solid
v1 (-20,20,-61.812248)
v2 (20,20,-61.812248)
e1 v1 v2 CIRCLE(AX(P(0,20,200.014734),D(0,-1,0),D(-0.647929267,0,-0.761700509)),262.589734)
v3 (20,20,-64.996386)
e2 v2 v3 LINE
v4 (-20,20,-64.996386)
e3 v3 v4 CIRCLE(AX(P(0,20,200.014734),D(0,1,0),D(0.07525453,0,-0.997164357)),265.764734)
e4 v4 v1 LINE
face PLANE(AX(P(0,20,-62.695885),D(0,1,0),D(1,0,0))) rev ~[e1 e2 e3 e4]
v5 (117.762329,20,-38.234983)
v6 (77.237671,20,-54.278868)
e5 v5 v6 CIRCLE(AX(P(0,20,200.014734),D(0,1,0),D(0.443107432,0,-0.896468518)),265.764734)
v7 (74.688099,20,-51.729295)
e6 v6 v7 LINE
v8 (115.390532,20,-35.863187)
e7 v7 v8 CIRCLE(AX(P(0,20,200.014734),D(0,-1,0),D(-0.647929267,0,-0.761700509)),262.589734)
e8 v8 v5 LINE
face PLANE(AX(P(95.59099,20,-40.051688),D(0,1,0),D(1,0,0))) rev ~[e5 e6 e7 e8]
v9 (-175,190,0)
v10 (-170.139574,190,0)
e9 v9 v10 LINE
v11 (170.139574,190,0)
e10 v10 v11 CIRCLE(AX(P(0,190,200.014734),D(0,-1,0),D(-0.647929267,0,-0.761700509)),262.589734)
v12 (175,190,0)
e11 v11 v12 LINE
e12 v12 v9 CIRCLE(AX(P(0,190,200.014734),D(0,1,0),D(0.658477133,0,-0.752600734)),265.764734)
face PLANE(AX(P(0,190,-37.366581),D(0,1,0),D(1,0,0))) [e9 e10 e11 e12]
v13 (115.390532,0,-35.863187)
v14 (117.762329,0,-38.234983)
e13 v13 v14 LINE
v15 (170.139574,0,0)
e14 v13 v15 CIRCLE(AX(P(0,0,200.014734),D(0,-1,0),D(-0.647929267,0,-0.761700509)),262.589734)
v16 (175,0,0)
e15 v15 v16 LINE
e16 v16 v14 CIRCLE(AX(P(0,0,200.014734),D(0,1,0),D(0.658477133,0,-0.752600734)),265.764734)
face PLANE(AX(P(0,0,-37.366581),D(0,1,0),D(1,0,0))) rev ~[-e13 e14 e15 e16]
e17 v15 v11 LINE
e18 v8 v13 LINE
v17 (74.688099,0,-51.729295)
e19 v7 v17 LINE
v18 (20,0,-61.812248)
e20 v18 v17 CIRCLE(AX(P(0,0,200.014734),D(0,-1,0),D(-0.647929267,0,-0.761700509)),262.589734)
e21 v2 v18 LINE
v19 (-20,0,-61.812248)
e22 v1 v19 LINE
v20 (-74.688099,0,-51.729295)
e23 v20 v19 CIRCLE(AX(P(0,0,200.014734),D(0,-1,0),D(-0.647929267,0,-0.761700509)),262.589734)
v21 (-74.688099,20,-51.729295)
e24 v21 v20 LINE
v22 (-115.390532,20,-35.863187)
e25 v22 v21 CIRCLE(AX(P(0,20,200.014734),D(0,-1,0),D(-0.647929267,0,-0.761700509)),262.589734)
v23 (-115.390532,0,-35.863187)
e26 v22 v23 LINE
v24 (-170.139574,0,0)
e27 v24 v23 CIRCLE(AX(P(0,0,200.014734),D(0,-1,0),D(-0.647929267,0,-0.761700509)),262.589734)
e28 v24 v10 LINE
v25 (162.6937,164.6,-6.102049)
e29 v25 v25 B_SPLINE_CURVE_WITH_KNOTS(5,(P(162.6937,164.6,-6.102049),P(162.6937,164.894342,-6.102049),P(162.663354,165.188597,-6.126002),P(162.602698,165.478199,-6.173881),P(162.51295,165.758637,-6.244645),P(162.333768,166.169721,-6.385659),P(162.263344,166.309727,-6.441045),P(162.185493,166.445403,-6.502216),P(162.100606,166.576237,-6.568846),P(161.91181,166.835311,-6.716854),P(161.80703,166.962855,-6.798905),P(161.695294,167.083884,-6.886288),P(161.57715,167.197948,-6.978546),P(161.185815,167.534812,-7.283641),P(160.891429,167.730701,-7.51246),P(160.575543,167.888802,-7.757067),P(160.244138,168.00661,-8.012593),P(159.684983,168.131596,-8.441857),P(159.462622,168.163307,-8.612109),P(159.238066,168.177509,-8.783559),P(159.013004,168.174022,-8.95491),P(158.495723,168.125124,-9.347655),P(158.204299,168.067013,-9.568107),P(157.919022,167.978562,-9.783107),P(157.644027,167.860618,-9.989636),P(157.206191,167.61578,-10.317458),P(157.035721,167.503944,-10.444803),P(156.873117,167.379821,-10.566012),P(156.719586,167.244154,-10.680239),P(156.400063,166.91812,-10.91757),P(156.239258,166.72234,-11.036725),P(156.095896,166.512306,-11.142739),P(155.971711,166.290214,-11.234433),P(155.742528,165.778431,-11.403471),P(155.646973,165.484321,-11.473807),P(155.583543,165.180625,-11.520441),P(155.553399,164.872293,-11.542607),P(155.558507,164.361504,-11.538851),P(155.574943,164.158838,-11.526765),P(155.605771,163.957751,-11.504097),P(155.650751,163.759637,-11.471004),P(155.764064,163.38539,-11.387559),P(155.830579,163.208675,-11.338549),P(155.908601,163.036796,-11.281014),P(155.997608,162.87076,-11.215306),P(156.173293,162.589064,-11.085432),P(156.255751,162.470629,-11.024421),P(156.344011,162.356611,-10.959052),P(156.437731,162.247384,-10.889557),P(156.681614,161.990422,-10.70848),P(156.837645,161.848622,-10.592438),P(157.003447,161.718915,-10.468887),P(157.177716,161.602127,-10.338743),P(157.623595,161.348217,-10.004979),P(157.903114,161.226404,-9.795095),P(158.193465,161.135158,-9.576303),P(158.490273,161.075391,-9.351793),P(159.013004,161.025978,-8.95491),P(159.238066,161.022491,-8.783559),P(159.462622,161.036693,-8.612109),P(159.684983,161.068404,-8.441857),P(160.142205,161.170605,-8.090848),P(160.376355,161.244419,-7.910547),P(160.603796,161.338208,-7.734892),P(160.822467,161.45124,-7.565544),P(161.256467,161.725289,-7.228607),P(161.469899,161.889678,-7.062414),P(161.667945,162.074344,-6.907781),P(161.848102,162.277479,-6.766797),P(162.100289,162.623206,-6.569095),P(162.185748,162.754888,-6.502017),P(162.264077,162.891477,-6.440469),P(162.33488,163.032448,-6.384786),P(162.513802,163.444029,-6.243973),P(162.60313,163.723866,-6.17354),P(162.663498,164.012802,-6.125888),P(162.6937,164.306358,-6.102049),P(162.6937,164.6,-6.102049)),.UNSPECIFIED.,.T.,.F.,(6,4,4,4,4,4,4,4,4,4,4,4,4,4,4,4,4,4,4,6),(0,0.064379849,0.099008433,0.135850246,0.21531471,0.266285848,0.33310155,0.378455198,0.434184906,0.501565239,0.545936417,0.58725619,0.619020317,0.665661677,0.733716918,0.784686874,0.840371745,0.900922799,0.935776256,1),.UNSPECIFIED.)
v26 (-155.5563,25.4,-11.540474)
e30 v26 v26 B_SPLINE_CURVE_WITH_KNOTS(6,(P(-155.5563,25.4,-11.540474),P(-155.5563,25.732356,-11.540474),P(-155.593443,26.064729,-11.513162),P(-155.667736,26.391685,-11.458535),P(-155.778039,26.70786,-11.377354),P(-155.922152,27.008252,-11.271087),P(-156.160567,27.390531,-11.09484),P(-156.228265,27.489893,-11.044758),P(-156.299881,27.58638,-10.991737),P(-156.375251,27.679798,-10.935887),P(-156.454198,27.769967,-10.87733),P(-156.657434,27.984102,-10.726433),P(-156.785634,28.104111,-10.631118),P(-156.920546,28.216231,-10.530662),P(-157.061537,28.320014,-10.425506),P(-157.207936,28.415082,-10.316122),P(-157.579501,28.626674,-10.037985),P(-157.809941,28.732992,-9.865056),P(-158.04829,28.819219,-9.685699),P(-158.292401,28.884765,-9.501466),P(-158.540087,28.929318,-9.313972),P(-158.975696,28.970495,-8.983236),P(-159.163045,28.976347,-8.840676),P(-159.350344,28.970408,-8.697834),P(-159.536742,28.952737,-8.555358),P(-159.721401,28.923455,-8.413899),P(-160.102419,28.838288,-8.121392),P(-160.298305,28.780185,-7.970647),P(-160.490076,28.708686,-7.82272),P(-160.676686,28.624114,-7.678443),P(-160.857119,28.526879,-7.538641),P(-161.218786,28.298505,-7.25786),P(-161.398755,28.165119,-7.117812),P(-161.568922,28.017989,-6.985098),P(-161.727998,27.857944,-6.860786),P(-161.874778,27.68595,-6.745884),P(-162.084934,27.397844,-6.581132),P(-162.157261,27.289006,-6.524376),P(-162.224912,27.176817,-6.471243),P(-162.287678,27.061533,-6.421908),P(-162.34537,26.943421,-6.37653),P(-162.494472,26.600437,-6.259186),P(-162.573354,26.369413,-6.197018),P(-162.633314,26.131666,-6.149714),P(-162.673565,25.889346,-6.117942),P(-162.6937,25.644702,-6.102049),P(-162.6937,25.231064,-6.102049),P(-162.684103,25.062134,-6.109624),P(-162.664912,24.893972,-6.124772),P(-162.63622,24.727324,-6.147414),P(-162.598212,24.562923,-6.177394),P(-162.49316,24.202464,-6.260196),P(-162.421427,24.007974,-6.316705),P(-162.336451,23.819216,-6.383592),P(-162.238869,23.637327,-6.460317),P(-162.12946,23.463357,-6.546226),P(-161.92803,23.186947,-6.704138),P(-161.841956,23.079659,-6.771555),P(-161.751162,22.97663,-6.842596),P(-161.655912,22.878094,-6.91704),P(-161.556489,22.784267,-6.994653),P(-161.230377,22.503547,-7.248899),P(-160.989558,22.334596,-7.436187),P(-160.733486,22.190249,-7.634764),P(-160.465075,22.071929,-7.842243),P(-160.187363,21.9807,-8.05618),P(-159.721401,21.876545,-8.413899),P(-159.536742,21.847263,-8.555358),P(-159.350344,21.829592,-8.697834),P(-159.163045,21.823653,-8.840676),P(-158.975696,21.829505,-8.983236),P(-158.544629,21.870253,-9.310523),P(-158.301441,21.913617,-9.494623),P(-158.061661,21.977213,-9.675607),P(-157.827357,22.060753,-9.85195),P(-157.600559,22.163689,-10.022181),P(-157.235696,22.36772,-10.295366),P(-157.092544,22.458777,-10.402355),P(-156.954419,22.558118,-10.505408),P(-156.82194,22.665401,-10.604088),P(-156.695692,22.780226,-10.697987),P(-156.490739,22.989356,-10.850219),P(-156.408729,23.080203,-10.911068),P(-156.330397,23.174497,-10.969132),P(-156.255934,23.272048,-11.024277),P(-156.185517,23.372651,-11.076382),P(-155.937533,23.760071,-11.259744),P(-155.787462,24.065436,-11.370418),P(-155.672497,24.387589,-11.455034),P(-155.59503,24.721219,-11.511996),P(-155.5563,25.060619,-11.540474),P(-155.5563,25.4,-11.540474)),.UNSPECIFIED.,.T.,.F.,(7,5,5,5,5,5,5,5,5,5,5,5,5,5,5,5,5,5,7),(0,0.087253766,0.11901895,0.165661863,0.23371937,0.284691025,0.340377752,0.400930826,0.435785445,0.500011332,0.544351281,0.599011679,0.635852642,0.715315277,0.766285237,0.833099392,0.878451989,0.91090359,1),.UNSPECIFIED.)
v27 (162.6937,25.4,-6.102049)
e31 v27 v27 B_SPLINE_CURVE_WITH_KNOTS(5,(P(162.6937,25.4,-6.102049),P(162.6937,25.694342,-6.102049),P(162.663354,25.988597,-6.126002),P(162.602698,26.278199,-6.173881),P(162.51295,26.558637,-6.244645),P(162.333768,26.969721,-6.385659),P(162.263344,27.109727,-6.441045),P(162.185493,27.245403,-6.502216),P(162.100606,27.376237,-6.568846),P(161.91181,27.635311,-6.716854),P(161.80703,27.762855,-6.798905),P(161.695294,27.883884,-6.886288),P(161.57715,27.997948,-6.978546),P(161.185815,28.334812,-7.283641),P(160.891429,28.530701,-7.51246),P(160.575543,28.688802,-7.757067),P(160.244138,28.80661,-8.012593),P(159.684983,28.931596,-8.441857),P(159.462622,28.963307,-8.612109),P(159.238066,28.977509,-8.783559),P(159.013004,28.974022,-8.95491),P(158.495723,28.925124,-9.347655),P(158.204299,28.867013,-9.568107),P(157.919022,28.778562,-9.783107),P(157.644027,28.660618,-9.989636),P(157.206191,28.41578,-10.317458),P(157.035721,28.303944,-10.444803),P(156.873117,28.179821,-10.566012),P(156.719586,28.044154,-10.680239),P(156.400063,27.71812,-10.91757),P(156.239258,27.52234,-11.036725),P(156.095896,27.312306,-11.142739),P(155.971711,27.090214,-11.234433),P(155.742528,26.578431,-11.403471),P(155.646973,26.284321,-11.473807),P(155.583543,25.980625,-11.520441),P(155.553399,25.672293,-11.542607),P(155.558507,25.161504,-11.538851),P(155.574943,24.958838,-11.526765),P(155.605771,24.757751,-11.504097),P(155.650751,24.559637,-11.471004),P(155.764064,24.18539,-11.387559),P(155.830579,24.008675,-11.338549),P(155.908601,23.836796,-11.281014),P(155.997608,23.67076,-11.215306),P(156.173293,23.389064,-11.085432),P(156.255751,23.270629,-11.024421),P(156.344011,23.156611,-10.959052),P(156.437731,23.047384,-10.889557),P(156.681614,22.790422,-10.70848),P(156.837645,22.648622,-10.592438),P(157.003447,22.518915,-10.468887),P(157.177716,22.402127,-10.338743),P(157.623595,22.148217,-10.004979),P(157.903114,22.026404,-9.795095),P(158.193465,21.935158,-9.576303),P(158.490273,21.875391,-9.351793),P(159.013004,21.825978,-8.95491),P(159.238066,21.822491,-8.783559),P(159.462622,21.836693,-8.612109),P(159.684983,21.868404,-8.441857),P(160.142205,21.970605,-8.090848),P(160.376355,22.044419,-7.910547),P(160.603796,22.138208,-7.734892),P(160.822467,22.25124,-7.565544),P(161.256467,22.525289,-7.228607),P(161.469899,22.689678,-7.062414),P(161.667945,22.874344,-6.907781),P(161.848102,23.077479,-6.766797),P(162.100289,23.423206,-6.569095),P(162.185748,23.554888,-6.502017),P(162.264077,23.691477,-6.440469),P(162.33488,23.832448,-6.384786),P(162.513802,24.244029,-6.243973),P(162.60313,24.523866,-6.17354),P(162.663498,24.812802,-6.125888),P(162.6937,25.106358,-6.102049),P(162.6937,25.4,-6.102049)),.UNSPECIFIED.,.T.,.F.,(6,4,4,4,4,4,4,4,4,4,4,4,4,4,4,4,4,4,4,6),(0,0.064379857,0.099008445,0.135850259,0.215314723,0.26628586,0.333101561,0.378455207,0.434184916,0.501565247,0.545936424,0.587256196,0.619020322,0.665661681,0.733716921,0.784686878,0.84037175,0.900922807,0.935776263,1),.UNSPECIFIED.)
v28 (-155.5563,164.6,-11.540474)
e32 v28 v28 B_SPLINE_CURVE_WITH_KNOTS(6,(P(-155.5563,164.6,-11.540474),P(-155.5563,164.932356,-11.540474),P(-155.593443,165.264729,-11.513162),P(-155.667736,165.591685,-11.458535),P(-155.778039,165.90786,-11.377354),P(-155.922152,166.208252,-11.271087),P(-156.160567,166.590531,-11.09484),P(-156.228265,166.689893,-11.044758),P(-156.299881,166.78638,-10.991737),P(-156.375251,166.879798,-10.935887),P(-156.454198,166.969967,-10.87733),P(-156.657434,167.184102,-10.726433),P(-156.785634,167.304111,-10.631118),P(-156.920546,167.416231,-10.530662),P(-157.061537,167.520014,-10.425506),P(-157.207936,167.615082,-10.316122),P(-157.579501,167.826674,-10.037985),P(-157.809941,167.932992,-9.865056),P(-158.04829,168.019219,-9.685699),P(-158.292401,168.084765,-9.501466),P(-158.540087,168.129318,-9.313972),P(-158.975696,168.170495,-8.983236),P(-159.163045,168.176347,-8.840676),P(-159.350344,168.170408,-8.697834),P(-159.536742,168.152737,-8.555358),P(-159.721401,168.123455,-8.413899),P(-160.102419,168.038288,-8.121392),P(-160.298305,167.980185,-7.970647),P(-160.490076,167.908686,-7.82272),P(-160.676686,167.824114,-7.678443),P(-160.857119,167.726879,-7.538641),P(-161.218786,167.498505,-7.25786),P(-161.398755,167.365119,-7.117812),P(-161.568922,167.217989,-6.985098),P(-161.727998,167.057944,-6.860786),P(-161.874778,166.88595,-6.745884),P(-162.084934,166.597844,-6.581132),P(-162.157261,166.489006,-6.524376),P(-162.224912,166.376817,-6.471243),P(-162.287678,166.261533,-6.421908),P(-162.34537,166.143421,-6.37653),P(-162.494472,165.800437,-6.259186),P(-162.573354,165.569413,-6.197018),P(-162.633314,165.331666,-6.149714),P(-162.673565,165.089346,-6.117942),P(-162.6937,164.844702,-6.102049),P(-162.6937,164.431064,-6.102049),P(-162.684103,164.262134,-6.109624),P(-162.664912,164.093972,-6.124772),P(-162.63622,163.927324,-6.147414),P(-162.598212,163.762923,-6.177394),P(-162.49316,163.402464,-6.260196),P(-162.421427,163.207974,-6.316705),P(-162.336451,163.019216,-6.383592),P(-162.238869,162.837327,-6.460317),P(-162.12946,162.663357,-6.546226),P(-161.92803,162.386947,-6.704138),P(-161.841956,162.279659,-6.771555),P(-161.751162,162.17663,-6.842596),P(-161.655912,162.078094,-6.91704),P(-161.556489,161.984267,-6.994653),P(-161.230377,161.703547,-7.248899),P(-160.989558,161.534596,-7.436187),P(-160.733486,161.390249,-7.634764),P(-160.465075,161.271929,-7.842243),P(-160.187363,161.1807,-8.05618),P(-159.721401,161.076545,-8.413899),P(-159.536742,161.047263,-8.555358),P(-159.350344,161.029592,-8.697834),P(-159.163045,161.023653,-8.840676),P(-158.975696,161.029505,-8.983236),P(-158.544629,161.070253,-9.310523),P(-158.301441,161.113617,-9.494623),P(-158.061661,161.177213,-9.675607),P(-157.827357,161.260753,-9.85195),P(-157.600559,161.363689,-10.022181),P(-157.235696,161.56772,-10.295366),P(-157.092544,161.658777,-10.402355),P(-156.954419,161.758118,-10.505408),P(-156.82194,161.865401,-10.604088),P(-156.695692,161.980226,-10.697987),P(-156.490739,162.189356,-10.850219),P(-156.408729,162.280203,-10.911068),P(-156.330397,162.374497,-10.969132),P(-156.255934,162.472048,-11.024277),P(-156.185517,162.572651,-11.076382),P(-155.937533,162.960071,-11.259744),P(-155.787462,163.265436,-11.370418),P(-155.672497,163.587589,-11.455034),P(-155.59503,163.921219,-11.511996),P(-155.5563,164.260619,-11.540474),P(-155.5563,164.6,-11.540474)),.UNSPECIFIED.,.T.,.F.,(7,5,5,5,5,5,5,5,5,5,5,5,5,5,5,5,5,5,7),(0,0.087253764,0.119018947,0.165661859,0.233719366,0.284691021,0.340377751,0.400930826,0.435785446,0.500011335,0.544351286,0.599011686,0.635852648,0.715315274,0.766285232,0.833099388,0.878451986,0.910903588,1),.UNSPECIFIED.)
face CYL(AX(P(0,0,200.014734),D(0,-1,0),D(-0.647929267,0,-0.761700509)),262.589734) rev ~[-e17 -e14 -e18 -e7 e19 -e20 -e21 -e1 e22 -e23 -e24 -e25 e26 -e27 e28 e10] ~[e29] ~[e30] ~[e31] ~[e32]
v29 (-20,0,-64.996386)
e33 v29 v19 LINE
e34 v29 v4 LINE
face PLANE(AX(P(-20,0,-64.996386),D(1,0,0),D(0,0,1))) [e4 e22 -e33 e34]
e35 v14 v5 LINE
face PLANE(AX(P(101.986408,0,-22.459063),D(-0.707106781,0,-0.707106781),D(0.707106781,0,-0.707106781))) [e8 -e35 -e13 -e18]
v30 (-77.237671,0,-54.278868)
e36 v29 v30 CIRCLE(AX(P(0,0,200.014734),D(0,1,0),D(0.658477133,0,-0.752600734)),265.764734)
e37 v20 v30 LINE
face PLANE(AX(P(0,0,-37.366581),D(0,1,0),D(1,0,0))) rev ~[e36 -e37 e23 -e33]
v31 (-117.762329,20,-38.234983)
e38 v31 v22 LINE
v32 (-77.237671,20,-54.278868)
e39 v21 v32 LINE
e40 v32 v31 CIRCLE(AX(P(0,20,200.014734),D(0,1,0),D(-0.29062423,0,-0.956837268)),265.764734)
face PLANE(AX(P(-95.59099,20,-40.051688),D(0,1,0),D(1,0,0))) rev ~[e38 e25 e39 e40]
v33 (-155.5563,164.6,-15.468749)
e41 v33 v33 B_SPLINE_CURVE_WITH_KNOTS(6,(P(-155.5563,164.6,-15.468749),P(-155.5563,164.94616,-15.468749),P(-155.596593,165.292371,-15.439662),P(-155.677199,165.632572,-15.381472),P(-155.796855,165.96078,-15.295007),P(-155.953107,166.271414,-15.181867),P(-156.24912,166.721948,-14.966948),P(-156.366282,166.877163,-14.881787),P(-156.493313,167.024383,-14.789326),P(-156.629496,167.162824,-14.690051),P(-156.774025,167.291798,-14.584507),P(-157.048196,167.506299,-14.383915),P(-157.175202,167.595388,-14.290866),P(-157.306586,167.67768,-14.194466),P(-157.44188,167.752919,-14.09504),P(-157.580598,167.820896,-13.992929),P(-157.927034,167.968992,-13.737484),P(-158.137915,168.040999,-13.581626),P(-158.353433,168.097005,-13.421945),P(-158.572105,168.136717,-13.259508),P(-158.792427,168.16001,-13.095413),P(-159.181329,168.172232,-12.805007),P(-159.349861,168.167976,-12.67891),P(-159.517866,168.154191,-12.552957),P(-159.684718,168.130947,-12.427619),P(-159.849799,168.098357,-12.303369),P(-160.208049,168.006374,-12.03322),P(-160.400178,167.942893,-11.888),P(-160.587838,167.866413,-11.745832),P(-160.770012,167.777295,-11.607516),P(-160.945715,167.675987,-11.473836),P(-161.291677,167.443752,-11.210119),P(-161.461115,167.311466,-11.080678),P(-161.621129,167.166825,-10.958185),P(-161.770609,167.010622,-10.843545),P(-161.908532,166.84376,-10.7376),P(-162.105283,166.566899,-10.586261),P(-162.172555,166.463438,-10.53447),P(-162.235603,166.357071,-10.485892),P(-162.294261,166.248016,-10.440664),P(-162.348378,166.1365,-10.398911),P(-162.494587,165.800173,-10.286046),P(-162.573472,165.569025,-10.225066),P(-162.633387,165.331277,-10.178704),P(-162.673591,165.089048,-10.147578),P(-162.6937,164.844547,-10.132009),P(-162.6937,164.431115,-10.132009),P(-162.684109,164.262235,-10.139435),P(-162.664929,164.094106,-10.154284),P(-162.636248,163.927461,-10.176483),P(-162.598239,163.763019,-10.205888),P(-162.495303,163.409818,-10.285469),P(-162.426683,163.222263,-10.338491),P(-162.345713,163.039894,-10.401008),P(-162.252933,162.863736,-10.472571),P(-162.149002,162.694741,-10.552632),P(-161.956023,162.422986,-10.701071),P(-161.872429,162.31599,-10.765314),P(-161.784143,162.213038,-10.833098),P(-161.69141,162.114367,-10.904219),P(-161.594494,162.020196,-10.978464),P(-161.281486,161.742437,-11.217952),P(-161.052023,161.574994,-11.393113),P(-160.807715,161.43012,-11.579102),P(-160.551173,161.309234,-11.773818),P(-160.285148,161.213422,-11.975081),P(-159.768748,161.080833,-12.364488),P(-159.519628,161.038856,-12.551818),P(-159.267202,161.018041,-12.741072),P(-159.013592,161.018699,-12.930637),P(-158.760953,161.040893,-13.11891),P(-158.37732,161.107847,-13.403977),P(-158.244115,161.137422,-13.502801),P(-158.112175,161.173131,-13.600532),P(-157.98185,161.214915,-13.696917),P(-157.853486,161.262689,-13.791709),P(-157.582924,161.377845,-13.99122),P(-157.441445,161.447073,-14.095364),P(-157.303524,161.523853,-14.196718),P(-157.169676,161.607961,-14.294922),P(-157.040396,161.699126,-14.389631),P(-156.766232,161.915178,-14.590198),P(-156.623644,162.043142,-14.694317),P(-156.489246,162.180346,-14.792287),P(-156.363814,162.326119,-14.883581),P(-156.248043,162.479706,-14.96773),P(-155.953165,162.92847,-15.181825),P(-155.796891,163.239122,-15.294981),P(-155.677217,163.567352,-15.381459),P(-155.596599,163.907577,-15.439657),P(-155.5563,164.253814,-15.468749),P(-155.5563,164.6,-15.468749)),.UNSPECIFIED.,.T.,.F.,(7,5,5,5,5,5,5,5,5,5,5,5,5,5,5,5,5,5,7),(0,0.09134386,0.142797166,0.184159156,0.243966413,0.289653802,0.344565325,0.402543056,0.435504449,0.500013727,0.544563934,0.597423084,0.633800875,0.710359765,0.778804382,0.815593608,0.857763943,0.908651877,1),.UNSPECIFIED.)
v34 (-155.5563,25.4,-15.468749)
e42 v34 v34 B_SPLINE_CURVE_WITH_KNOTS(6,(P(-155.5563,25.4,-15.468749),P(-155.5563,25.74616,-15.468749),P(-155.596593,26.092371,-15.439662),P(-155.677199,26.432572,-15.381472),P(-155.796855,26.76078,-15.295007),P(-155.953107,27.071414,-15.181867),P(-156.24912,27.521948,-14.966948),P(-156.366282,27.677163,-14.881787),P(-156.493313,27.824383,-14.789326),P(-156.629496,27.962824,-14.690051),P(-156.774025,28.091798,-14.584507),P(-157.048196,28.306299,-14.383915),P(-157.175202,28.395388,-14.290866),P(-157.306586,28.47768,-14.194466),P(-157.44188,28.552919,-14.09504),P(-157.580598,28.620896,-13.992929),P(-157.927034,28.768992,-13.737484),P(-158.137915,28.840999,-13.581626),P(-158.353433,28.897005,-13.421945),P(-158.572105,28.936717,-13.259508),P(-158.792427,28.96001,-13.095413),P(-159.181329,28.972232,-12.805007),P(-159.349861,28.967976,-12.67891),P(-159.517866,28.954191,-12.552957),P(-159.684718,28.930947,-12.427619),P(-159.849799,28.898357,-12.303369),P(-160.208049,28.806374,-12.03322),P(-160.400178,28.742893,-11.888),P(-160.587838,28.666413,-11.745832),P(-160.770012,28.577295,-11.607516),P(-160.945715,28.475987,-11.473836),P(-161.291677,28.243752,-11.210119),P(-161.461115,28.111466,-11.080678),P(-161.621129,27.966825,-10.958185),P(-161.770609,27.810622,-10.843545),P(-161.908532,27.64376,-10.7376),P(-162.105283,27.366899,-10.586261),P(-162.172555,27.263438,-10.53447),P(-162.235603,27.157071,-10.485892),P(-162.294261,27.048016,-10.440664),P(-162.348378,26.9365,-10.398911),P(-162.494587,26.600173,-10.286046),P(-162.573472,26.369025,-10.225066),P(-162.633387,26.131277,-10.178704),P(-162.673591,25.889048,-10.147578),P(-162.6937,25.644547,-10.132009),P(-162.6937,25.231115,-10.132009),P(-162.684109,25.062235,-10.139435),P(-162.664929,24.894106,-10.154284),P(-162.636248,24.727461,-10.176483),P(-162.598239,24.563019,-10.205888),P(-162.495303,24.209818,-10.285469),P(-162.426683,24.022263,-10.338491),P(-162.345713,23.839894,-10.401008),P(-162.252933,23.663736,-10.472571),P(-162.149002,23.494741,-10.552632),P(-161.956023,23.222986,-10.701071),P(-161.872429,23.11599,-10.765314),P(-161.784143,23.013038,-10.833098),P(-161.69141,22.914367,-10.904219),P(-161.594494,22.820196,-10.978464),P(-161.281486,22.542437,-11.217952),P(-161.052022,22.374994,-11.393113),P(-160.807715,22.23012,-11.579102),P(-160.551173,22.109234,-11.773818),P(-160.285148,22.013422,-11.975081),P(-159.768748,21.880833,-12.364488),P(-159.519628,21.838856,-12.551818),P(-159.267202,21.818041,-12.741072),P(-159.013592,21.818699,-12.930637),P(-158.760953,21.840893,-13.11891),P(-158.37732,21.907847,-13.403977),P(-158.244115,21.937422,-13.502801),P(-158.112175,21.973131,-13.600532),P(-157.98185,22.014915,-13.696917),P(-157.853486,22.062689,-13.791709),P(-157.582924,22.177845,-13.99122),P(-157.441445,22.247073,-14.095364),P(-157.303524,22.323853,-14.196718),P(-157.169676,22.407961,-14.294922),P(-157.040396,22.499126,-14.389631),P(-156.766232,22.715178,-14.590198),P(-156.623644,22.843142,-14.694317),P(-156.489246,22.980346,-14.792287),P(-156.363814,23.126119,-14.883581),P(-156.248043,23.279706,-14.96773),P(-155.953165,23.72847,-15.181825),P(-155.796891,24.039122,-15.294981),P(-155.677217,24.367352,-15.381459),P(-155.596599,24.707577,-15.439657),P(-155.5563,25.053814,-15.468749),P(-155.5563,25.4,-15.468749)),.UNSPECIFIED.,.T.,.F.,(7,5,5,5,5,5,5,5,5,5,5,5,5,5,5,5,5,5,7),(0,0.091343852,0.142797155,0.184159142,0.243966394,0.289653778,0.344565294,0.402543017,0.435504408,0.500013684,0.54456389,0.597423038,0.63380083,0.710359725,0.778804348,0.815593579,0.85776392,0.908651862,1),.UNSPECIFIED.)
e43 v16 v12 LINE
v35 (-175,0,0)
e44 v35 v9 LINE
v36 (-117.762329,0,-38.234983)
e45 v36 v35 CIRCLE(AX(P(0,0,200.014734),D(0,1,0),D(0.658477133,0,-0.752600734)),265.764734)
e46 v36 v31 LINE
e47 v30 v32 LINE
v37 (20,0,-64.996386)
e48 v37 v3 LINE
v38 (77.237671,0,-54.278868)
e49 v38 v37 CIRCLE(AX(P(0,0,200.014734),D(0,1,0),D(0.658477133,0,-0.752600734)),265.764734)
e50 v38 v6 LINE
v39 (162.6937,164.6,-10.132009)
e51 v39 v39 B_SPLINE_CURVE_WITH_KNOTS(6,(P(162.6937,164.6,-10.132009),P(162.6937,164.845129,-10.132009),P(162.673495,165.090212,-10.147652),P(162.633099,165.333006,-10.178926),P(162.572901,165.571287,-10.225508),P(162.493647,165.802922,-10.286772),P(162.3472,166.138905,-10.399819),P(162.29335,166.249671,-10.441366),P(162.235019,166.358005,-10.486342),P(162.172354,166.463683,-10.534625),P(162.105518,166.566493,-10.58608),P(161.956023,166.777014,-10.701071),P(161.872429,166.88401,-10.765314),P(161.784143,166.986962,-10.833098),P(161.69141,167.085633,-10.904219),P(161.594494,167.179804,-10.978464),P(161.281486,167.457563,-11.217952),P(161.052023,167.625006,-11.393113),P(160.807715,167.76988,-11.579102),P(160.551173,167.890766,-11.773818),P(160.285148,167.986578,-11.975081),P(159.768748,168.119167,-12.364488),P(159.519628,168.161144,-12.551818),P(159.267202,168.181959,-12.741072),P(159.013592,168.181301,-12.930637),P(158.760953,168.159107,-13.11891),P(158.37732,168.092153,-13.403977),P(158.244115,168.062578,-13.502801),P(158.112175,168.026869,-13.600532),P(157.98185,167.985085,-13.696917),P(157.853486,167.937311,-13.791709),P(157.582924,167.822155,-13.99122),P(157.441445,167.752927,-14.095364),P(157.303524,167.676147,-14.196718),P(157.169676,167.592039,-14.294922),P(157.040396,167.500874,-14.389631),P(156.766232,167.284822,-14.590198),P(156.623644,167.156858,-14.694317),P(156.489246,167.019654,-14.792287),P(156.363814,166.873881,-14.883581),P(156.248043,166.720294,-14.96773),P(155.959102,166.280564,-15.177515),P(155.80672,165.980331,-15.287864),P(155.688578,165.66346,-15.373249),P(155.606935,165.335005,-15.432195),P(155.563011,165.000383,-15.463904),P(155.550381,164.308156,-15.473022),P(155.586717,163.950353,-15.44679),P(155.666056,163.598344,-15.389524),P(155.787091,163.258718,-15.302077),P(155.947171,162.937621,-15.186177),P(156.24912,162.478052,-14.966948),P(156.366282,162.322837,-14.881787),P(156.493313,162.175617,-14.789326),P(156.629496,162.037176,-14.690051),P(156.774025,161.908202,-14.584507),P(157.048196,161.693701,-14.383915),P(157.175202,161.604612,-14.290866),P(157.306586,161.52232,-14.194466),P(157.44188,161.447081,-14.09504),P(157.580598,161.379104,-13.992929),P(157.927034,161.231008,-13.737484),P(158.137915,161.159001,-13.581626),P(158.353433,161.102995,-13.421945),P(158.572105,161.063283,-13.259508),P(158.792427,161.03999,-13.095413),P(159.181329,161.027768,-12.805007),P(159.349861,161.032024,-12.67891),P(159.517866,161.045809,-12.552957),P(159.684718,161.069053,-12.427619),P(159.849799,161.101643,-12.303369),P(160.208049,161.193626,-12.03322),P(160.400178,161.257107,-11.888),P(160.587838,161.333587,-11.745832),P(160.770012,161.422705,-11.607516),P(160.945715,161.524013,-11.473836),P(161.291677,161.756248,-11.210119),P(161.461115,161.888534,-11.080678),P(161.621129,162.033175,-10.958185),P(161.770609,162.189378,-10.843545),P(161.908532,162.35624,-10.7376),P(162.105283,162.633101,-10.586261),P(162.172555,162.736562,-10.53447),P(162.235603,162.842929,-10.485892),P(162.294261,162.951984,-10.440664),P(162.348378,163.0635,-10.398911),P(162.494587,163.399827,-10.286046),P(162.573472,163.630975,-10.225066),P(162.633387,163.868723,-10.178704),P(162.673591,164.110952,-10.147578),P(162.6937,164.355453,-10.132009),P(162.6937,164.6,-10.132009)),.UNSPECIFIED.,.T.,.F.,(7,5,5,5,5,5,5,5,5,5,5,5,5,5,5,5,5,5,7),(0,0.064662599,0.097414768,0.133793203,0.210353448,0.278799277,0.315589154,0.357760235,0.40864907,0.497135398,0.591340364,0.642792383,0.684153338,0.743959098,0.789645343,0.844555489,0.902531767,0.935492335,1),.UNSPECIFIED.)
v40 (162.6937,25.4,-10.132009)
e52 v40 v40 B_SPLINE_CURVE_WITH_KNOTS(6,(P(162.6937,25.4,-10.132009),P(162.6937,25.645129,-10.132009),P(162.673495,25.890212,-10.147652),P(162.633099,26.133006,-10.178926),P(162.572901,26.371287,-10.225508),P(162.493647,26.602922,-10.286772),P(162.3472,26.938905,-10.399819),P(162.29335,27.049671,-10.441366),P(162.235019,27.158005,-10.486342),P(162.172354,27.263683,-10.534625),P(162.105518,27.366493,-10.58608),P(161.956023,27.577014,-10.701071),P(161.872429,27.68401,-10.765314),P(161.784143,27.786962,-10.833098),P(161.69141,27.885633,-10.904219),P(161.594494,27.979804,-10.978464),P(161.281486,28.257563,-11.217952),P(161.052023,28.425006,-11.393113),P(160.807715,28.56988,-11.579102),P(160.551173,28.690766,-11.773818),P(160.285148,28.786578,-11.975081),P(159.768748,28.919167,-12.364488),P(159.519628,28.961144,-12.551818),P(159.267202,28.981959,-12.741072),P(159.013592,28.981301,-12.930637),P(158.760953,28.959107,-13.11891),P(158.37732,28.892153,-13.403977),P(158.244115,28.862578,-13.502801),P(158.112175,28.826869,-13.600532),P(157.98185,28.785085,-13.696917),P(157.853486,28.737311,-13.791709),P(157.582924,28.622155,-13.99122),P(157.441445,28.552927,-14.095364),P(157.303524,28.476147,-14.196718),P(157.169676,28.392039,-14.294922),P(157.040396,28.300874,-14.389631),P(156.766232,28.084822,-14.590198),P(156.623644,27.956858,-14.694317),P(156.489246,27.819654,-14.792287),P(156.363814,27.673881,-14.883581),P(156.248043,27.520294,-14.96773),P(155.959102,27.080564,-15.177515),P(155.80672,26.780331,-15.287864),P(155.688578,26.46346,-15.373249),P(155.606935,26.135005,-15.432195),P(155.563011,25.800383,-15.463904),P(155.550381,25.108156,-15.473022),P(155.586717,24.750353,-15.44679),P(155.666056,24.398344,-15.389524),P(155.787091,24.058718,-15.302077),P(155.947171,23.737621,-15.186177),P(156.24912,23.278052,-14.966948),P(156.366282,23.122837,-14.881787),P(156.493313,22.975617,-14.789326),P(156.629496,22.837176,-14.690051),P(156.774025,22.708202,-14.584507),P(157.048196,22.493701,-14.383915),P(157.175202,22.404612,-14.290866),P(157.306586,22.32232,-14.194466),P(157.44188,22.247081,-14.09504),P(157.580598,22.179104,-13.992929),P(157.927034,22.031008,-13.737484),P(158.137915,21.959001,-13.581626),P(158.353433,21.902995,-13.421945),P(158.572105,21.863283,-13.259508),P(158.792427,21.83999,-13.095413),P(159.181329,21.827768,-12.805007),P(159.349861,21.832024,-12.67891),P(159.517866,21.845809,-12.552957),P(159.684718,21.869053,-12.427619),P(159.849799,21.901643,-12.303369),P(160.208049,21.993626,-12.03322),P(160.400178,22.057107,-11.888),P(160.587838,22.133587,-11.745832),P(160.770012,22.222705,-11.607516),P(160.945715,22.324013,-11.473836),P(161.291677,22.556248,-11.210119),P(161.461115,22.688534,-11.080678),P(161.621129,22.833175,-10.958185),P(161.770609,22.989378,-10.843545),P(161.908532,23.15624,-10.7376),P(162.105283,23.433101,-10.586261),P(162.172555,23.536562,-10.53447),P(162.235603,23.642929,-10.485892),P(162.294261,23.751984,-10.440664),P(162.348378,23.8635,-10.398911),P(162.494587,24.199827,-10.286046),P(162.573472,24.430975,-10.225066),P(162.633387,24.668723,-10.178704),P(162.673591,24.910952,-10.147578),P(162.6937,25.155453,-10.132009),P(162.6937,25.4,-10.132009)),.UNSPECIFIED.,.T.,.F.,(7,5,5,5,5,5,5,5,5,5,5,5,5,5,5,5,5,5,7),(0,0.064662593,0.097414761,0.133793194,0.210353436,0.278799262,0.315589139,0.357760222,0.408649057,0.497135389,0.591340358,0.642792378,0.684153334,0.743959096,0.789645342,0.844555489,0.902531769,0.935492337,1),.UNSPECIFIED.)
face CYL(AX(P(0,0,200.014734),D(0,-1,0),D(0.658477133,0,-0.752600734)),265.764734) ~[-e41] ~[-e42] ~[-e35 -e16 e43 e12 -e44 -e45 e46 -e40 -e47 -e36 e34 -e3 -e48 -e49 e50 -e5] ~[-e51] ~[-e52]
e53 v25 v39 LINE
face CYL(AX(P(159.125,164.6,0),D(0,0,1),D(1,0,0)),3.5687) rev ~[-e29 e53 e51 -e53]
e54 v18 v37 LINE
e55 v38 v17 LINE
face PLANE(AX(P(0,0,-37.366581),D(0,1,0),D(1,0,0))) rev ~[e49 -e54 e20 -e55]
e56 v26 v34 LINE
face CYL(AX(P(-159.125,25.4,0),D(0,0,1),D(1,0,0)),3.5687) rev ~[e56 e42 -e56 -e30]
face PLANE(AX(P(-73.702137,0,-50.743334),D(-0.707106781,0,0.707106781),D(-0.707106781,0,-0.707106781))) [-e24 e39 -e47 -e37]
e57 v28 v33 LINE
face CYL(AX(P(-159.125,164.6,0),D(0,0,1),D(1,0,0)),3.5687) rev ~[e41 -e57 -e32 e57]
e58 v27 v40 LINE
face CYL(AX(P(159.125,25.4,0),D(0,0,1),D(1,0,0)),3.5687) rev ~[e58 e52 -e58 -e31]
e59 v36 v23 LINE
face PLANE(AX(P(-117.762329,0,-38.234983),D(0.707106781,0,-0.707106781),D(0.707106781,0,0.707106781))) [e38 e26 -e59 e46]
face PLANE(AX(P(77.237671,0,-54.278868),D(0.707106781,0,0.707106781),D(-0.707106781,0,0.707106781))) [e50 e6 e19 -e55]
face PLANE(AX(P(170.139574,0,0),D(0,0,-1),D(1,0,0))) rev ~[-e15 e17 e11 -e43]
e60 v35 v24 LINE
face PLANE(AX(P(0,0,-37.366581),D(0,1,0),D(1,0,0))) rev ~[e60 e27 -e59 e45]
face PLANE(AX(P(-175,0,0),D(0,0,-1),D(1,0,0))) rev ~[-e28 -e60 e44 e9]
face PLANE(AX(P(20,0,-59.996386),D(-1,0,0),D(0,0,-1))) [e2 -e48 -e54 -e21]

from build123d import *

# Parameters (mm, degrees)
CURVED_PLATE_DEPTH   = 190
IR_CUTOUT_DEPTH      = 20
SKETCH3_R            = 3.5687
MOUNTING_HOLES_DEPTH = 66.75


with BuildPart() as part:
    # Sketch1 → Curved Plate (new body)
    with BuildSketch(Plane(origin=(0, 0, 0), x_dir=(1, 0, 0), z_dir=(0, 1, 0))):
        with BuildLine():
            Line((170.139573777, 0), (175, 0))
            ThreePointArc((175, 0), (0, 65.75), (-175, 0))
            Line((-175, 0), (-170.139573777, 0))
            ThreePointArc((-170.139573777, 0), (0, 62.575), (170.139573777, 0))
        make_face()
    extrude(amount=CURVED_PLATE_DEPTH)

    # Sketch2 → IR Cutout (cut)
    with BuildSketch(Plane(origin=(0, 0, 0), x_dir=(1, 0, 0), z_dir=(0, 1, 0))):
        with BuildLine():
            Line((-117.762328859, 38.234983169), (-105.521942389, 25.994596699))
            Line((-105.521942389, 25.994596699), (-101.986408483, 22.459062793))
            Line((-101.986408483, 22.459062793), (-73.702137236, 50.743334041))
            Line((-73.702137236, 50.743334041), (-77.237671141, 54.278867947))
            ThreePointArc((-77.237671141, 54.278867947), (-97.829451392, 47.089074697), (-117.762328859, 38.234983169))
        make_face()
        with BuildLine():
            Line((77.237671141, 54.278867947), (73.702137236, 50.743334041))
            Line((73.702137236, 50.743334041), (101.986408483, 22.459062793))
            Line((101.986408483, 22.459062793), (105.521942389, 25.994596699))
            Line((105.521942389, 25.994596699), (117.762328859, 38.234983169))
            ThreePointArc((117.762328859, 38.234983169), (97.829451392, 47.089074697), (77.237671141, 54.278867947))
        make_face()
        with BuildLine():
            Line((-20, 64.996386215), (-20, 59.996386215))
            Line((-20, 59.996386215), (20, 59.996386215))
            Line((20, 59.996386215), (20, 64.996386215))
            ThreePointArc((20, 64.996386215), (0, 65.75), (-20, 64.996386215))
        make_face()
    extrude(amount=IR_CUTOUT_DEPTH, mode=Mode.SUBTRACT)

    # Sketch3 → Mounting Holes (cut, through all)
    with BuildSketch(Plane.XY):
        with Locations((-159.125, 164.6)):
            Circle(SKETCH3_R)
        with Locations((-159.125, 25.4)):
            Circle(SKETCH3_R)
        with Locations((159.125, 25.4)):
            Circle(SKETCH3_R)
        with Locations((159.125, 164.6)):
            Circle(SKETCH3_R)
    extrude(amount=-MOUNTING_HOLES_DEPTH, mode=Mode.SUBTRACT)


solid = part.part
